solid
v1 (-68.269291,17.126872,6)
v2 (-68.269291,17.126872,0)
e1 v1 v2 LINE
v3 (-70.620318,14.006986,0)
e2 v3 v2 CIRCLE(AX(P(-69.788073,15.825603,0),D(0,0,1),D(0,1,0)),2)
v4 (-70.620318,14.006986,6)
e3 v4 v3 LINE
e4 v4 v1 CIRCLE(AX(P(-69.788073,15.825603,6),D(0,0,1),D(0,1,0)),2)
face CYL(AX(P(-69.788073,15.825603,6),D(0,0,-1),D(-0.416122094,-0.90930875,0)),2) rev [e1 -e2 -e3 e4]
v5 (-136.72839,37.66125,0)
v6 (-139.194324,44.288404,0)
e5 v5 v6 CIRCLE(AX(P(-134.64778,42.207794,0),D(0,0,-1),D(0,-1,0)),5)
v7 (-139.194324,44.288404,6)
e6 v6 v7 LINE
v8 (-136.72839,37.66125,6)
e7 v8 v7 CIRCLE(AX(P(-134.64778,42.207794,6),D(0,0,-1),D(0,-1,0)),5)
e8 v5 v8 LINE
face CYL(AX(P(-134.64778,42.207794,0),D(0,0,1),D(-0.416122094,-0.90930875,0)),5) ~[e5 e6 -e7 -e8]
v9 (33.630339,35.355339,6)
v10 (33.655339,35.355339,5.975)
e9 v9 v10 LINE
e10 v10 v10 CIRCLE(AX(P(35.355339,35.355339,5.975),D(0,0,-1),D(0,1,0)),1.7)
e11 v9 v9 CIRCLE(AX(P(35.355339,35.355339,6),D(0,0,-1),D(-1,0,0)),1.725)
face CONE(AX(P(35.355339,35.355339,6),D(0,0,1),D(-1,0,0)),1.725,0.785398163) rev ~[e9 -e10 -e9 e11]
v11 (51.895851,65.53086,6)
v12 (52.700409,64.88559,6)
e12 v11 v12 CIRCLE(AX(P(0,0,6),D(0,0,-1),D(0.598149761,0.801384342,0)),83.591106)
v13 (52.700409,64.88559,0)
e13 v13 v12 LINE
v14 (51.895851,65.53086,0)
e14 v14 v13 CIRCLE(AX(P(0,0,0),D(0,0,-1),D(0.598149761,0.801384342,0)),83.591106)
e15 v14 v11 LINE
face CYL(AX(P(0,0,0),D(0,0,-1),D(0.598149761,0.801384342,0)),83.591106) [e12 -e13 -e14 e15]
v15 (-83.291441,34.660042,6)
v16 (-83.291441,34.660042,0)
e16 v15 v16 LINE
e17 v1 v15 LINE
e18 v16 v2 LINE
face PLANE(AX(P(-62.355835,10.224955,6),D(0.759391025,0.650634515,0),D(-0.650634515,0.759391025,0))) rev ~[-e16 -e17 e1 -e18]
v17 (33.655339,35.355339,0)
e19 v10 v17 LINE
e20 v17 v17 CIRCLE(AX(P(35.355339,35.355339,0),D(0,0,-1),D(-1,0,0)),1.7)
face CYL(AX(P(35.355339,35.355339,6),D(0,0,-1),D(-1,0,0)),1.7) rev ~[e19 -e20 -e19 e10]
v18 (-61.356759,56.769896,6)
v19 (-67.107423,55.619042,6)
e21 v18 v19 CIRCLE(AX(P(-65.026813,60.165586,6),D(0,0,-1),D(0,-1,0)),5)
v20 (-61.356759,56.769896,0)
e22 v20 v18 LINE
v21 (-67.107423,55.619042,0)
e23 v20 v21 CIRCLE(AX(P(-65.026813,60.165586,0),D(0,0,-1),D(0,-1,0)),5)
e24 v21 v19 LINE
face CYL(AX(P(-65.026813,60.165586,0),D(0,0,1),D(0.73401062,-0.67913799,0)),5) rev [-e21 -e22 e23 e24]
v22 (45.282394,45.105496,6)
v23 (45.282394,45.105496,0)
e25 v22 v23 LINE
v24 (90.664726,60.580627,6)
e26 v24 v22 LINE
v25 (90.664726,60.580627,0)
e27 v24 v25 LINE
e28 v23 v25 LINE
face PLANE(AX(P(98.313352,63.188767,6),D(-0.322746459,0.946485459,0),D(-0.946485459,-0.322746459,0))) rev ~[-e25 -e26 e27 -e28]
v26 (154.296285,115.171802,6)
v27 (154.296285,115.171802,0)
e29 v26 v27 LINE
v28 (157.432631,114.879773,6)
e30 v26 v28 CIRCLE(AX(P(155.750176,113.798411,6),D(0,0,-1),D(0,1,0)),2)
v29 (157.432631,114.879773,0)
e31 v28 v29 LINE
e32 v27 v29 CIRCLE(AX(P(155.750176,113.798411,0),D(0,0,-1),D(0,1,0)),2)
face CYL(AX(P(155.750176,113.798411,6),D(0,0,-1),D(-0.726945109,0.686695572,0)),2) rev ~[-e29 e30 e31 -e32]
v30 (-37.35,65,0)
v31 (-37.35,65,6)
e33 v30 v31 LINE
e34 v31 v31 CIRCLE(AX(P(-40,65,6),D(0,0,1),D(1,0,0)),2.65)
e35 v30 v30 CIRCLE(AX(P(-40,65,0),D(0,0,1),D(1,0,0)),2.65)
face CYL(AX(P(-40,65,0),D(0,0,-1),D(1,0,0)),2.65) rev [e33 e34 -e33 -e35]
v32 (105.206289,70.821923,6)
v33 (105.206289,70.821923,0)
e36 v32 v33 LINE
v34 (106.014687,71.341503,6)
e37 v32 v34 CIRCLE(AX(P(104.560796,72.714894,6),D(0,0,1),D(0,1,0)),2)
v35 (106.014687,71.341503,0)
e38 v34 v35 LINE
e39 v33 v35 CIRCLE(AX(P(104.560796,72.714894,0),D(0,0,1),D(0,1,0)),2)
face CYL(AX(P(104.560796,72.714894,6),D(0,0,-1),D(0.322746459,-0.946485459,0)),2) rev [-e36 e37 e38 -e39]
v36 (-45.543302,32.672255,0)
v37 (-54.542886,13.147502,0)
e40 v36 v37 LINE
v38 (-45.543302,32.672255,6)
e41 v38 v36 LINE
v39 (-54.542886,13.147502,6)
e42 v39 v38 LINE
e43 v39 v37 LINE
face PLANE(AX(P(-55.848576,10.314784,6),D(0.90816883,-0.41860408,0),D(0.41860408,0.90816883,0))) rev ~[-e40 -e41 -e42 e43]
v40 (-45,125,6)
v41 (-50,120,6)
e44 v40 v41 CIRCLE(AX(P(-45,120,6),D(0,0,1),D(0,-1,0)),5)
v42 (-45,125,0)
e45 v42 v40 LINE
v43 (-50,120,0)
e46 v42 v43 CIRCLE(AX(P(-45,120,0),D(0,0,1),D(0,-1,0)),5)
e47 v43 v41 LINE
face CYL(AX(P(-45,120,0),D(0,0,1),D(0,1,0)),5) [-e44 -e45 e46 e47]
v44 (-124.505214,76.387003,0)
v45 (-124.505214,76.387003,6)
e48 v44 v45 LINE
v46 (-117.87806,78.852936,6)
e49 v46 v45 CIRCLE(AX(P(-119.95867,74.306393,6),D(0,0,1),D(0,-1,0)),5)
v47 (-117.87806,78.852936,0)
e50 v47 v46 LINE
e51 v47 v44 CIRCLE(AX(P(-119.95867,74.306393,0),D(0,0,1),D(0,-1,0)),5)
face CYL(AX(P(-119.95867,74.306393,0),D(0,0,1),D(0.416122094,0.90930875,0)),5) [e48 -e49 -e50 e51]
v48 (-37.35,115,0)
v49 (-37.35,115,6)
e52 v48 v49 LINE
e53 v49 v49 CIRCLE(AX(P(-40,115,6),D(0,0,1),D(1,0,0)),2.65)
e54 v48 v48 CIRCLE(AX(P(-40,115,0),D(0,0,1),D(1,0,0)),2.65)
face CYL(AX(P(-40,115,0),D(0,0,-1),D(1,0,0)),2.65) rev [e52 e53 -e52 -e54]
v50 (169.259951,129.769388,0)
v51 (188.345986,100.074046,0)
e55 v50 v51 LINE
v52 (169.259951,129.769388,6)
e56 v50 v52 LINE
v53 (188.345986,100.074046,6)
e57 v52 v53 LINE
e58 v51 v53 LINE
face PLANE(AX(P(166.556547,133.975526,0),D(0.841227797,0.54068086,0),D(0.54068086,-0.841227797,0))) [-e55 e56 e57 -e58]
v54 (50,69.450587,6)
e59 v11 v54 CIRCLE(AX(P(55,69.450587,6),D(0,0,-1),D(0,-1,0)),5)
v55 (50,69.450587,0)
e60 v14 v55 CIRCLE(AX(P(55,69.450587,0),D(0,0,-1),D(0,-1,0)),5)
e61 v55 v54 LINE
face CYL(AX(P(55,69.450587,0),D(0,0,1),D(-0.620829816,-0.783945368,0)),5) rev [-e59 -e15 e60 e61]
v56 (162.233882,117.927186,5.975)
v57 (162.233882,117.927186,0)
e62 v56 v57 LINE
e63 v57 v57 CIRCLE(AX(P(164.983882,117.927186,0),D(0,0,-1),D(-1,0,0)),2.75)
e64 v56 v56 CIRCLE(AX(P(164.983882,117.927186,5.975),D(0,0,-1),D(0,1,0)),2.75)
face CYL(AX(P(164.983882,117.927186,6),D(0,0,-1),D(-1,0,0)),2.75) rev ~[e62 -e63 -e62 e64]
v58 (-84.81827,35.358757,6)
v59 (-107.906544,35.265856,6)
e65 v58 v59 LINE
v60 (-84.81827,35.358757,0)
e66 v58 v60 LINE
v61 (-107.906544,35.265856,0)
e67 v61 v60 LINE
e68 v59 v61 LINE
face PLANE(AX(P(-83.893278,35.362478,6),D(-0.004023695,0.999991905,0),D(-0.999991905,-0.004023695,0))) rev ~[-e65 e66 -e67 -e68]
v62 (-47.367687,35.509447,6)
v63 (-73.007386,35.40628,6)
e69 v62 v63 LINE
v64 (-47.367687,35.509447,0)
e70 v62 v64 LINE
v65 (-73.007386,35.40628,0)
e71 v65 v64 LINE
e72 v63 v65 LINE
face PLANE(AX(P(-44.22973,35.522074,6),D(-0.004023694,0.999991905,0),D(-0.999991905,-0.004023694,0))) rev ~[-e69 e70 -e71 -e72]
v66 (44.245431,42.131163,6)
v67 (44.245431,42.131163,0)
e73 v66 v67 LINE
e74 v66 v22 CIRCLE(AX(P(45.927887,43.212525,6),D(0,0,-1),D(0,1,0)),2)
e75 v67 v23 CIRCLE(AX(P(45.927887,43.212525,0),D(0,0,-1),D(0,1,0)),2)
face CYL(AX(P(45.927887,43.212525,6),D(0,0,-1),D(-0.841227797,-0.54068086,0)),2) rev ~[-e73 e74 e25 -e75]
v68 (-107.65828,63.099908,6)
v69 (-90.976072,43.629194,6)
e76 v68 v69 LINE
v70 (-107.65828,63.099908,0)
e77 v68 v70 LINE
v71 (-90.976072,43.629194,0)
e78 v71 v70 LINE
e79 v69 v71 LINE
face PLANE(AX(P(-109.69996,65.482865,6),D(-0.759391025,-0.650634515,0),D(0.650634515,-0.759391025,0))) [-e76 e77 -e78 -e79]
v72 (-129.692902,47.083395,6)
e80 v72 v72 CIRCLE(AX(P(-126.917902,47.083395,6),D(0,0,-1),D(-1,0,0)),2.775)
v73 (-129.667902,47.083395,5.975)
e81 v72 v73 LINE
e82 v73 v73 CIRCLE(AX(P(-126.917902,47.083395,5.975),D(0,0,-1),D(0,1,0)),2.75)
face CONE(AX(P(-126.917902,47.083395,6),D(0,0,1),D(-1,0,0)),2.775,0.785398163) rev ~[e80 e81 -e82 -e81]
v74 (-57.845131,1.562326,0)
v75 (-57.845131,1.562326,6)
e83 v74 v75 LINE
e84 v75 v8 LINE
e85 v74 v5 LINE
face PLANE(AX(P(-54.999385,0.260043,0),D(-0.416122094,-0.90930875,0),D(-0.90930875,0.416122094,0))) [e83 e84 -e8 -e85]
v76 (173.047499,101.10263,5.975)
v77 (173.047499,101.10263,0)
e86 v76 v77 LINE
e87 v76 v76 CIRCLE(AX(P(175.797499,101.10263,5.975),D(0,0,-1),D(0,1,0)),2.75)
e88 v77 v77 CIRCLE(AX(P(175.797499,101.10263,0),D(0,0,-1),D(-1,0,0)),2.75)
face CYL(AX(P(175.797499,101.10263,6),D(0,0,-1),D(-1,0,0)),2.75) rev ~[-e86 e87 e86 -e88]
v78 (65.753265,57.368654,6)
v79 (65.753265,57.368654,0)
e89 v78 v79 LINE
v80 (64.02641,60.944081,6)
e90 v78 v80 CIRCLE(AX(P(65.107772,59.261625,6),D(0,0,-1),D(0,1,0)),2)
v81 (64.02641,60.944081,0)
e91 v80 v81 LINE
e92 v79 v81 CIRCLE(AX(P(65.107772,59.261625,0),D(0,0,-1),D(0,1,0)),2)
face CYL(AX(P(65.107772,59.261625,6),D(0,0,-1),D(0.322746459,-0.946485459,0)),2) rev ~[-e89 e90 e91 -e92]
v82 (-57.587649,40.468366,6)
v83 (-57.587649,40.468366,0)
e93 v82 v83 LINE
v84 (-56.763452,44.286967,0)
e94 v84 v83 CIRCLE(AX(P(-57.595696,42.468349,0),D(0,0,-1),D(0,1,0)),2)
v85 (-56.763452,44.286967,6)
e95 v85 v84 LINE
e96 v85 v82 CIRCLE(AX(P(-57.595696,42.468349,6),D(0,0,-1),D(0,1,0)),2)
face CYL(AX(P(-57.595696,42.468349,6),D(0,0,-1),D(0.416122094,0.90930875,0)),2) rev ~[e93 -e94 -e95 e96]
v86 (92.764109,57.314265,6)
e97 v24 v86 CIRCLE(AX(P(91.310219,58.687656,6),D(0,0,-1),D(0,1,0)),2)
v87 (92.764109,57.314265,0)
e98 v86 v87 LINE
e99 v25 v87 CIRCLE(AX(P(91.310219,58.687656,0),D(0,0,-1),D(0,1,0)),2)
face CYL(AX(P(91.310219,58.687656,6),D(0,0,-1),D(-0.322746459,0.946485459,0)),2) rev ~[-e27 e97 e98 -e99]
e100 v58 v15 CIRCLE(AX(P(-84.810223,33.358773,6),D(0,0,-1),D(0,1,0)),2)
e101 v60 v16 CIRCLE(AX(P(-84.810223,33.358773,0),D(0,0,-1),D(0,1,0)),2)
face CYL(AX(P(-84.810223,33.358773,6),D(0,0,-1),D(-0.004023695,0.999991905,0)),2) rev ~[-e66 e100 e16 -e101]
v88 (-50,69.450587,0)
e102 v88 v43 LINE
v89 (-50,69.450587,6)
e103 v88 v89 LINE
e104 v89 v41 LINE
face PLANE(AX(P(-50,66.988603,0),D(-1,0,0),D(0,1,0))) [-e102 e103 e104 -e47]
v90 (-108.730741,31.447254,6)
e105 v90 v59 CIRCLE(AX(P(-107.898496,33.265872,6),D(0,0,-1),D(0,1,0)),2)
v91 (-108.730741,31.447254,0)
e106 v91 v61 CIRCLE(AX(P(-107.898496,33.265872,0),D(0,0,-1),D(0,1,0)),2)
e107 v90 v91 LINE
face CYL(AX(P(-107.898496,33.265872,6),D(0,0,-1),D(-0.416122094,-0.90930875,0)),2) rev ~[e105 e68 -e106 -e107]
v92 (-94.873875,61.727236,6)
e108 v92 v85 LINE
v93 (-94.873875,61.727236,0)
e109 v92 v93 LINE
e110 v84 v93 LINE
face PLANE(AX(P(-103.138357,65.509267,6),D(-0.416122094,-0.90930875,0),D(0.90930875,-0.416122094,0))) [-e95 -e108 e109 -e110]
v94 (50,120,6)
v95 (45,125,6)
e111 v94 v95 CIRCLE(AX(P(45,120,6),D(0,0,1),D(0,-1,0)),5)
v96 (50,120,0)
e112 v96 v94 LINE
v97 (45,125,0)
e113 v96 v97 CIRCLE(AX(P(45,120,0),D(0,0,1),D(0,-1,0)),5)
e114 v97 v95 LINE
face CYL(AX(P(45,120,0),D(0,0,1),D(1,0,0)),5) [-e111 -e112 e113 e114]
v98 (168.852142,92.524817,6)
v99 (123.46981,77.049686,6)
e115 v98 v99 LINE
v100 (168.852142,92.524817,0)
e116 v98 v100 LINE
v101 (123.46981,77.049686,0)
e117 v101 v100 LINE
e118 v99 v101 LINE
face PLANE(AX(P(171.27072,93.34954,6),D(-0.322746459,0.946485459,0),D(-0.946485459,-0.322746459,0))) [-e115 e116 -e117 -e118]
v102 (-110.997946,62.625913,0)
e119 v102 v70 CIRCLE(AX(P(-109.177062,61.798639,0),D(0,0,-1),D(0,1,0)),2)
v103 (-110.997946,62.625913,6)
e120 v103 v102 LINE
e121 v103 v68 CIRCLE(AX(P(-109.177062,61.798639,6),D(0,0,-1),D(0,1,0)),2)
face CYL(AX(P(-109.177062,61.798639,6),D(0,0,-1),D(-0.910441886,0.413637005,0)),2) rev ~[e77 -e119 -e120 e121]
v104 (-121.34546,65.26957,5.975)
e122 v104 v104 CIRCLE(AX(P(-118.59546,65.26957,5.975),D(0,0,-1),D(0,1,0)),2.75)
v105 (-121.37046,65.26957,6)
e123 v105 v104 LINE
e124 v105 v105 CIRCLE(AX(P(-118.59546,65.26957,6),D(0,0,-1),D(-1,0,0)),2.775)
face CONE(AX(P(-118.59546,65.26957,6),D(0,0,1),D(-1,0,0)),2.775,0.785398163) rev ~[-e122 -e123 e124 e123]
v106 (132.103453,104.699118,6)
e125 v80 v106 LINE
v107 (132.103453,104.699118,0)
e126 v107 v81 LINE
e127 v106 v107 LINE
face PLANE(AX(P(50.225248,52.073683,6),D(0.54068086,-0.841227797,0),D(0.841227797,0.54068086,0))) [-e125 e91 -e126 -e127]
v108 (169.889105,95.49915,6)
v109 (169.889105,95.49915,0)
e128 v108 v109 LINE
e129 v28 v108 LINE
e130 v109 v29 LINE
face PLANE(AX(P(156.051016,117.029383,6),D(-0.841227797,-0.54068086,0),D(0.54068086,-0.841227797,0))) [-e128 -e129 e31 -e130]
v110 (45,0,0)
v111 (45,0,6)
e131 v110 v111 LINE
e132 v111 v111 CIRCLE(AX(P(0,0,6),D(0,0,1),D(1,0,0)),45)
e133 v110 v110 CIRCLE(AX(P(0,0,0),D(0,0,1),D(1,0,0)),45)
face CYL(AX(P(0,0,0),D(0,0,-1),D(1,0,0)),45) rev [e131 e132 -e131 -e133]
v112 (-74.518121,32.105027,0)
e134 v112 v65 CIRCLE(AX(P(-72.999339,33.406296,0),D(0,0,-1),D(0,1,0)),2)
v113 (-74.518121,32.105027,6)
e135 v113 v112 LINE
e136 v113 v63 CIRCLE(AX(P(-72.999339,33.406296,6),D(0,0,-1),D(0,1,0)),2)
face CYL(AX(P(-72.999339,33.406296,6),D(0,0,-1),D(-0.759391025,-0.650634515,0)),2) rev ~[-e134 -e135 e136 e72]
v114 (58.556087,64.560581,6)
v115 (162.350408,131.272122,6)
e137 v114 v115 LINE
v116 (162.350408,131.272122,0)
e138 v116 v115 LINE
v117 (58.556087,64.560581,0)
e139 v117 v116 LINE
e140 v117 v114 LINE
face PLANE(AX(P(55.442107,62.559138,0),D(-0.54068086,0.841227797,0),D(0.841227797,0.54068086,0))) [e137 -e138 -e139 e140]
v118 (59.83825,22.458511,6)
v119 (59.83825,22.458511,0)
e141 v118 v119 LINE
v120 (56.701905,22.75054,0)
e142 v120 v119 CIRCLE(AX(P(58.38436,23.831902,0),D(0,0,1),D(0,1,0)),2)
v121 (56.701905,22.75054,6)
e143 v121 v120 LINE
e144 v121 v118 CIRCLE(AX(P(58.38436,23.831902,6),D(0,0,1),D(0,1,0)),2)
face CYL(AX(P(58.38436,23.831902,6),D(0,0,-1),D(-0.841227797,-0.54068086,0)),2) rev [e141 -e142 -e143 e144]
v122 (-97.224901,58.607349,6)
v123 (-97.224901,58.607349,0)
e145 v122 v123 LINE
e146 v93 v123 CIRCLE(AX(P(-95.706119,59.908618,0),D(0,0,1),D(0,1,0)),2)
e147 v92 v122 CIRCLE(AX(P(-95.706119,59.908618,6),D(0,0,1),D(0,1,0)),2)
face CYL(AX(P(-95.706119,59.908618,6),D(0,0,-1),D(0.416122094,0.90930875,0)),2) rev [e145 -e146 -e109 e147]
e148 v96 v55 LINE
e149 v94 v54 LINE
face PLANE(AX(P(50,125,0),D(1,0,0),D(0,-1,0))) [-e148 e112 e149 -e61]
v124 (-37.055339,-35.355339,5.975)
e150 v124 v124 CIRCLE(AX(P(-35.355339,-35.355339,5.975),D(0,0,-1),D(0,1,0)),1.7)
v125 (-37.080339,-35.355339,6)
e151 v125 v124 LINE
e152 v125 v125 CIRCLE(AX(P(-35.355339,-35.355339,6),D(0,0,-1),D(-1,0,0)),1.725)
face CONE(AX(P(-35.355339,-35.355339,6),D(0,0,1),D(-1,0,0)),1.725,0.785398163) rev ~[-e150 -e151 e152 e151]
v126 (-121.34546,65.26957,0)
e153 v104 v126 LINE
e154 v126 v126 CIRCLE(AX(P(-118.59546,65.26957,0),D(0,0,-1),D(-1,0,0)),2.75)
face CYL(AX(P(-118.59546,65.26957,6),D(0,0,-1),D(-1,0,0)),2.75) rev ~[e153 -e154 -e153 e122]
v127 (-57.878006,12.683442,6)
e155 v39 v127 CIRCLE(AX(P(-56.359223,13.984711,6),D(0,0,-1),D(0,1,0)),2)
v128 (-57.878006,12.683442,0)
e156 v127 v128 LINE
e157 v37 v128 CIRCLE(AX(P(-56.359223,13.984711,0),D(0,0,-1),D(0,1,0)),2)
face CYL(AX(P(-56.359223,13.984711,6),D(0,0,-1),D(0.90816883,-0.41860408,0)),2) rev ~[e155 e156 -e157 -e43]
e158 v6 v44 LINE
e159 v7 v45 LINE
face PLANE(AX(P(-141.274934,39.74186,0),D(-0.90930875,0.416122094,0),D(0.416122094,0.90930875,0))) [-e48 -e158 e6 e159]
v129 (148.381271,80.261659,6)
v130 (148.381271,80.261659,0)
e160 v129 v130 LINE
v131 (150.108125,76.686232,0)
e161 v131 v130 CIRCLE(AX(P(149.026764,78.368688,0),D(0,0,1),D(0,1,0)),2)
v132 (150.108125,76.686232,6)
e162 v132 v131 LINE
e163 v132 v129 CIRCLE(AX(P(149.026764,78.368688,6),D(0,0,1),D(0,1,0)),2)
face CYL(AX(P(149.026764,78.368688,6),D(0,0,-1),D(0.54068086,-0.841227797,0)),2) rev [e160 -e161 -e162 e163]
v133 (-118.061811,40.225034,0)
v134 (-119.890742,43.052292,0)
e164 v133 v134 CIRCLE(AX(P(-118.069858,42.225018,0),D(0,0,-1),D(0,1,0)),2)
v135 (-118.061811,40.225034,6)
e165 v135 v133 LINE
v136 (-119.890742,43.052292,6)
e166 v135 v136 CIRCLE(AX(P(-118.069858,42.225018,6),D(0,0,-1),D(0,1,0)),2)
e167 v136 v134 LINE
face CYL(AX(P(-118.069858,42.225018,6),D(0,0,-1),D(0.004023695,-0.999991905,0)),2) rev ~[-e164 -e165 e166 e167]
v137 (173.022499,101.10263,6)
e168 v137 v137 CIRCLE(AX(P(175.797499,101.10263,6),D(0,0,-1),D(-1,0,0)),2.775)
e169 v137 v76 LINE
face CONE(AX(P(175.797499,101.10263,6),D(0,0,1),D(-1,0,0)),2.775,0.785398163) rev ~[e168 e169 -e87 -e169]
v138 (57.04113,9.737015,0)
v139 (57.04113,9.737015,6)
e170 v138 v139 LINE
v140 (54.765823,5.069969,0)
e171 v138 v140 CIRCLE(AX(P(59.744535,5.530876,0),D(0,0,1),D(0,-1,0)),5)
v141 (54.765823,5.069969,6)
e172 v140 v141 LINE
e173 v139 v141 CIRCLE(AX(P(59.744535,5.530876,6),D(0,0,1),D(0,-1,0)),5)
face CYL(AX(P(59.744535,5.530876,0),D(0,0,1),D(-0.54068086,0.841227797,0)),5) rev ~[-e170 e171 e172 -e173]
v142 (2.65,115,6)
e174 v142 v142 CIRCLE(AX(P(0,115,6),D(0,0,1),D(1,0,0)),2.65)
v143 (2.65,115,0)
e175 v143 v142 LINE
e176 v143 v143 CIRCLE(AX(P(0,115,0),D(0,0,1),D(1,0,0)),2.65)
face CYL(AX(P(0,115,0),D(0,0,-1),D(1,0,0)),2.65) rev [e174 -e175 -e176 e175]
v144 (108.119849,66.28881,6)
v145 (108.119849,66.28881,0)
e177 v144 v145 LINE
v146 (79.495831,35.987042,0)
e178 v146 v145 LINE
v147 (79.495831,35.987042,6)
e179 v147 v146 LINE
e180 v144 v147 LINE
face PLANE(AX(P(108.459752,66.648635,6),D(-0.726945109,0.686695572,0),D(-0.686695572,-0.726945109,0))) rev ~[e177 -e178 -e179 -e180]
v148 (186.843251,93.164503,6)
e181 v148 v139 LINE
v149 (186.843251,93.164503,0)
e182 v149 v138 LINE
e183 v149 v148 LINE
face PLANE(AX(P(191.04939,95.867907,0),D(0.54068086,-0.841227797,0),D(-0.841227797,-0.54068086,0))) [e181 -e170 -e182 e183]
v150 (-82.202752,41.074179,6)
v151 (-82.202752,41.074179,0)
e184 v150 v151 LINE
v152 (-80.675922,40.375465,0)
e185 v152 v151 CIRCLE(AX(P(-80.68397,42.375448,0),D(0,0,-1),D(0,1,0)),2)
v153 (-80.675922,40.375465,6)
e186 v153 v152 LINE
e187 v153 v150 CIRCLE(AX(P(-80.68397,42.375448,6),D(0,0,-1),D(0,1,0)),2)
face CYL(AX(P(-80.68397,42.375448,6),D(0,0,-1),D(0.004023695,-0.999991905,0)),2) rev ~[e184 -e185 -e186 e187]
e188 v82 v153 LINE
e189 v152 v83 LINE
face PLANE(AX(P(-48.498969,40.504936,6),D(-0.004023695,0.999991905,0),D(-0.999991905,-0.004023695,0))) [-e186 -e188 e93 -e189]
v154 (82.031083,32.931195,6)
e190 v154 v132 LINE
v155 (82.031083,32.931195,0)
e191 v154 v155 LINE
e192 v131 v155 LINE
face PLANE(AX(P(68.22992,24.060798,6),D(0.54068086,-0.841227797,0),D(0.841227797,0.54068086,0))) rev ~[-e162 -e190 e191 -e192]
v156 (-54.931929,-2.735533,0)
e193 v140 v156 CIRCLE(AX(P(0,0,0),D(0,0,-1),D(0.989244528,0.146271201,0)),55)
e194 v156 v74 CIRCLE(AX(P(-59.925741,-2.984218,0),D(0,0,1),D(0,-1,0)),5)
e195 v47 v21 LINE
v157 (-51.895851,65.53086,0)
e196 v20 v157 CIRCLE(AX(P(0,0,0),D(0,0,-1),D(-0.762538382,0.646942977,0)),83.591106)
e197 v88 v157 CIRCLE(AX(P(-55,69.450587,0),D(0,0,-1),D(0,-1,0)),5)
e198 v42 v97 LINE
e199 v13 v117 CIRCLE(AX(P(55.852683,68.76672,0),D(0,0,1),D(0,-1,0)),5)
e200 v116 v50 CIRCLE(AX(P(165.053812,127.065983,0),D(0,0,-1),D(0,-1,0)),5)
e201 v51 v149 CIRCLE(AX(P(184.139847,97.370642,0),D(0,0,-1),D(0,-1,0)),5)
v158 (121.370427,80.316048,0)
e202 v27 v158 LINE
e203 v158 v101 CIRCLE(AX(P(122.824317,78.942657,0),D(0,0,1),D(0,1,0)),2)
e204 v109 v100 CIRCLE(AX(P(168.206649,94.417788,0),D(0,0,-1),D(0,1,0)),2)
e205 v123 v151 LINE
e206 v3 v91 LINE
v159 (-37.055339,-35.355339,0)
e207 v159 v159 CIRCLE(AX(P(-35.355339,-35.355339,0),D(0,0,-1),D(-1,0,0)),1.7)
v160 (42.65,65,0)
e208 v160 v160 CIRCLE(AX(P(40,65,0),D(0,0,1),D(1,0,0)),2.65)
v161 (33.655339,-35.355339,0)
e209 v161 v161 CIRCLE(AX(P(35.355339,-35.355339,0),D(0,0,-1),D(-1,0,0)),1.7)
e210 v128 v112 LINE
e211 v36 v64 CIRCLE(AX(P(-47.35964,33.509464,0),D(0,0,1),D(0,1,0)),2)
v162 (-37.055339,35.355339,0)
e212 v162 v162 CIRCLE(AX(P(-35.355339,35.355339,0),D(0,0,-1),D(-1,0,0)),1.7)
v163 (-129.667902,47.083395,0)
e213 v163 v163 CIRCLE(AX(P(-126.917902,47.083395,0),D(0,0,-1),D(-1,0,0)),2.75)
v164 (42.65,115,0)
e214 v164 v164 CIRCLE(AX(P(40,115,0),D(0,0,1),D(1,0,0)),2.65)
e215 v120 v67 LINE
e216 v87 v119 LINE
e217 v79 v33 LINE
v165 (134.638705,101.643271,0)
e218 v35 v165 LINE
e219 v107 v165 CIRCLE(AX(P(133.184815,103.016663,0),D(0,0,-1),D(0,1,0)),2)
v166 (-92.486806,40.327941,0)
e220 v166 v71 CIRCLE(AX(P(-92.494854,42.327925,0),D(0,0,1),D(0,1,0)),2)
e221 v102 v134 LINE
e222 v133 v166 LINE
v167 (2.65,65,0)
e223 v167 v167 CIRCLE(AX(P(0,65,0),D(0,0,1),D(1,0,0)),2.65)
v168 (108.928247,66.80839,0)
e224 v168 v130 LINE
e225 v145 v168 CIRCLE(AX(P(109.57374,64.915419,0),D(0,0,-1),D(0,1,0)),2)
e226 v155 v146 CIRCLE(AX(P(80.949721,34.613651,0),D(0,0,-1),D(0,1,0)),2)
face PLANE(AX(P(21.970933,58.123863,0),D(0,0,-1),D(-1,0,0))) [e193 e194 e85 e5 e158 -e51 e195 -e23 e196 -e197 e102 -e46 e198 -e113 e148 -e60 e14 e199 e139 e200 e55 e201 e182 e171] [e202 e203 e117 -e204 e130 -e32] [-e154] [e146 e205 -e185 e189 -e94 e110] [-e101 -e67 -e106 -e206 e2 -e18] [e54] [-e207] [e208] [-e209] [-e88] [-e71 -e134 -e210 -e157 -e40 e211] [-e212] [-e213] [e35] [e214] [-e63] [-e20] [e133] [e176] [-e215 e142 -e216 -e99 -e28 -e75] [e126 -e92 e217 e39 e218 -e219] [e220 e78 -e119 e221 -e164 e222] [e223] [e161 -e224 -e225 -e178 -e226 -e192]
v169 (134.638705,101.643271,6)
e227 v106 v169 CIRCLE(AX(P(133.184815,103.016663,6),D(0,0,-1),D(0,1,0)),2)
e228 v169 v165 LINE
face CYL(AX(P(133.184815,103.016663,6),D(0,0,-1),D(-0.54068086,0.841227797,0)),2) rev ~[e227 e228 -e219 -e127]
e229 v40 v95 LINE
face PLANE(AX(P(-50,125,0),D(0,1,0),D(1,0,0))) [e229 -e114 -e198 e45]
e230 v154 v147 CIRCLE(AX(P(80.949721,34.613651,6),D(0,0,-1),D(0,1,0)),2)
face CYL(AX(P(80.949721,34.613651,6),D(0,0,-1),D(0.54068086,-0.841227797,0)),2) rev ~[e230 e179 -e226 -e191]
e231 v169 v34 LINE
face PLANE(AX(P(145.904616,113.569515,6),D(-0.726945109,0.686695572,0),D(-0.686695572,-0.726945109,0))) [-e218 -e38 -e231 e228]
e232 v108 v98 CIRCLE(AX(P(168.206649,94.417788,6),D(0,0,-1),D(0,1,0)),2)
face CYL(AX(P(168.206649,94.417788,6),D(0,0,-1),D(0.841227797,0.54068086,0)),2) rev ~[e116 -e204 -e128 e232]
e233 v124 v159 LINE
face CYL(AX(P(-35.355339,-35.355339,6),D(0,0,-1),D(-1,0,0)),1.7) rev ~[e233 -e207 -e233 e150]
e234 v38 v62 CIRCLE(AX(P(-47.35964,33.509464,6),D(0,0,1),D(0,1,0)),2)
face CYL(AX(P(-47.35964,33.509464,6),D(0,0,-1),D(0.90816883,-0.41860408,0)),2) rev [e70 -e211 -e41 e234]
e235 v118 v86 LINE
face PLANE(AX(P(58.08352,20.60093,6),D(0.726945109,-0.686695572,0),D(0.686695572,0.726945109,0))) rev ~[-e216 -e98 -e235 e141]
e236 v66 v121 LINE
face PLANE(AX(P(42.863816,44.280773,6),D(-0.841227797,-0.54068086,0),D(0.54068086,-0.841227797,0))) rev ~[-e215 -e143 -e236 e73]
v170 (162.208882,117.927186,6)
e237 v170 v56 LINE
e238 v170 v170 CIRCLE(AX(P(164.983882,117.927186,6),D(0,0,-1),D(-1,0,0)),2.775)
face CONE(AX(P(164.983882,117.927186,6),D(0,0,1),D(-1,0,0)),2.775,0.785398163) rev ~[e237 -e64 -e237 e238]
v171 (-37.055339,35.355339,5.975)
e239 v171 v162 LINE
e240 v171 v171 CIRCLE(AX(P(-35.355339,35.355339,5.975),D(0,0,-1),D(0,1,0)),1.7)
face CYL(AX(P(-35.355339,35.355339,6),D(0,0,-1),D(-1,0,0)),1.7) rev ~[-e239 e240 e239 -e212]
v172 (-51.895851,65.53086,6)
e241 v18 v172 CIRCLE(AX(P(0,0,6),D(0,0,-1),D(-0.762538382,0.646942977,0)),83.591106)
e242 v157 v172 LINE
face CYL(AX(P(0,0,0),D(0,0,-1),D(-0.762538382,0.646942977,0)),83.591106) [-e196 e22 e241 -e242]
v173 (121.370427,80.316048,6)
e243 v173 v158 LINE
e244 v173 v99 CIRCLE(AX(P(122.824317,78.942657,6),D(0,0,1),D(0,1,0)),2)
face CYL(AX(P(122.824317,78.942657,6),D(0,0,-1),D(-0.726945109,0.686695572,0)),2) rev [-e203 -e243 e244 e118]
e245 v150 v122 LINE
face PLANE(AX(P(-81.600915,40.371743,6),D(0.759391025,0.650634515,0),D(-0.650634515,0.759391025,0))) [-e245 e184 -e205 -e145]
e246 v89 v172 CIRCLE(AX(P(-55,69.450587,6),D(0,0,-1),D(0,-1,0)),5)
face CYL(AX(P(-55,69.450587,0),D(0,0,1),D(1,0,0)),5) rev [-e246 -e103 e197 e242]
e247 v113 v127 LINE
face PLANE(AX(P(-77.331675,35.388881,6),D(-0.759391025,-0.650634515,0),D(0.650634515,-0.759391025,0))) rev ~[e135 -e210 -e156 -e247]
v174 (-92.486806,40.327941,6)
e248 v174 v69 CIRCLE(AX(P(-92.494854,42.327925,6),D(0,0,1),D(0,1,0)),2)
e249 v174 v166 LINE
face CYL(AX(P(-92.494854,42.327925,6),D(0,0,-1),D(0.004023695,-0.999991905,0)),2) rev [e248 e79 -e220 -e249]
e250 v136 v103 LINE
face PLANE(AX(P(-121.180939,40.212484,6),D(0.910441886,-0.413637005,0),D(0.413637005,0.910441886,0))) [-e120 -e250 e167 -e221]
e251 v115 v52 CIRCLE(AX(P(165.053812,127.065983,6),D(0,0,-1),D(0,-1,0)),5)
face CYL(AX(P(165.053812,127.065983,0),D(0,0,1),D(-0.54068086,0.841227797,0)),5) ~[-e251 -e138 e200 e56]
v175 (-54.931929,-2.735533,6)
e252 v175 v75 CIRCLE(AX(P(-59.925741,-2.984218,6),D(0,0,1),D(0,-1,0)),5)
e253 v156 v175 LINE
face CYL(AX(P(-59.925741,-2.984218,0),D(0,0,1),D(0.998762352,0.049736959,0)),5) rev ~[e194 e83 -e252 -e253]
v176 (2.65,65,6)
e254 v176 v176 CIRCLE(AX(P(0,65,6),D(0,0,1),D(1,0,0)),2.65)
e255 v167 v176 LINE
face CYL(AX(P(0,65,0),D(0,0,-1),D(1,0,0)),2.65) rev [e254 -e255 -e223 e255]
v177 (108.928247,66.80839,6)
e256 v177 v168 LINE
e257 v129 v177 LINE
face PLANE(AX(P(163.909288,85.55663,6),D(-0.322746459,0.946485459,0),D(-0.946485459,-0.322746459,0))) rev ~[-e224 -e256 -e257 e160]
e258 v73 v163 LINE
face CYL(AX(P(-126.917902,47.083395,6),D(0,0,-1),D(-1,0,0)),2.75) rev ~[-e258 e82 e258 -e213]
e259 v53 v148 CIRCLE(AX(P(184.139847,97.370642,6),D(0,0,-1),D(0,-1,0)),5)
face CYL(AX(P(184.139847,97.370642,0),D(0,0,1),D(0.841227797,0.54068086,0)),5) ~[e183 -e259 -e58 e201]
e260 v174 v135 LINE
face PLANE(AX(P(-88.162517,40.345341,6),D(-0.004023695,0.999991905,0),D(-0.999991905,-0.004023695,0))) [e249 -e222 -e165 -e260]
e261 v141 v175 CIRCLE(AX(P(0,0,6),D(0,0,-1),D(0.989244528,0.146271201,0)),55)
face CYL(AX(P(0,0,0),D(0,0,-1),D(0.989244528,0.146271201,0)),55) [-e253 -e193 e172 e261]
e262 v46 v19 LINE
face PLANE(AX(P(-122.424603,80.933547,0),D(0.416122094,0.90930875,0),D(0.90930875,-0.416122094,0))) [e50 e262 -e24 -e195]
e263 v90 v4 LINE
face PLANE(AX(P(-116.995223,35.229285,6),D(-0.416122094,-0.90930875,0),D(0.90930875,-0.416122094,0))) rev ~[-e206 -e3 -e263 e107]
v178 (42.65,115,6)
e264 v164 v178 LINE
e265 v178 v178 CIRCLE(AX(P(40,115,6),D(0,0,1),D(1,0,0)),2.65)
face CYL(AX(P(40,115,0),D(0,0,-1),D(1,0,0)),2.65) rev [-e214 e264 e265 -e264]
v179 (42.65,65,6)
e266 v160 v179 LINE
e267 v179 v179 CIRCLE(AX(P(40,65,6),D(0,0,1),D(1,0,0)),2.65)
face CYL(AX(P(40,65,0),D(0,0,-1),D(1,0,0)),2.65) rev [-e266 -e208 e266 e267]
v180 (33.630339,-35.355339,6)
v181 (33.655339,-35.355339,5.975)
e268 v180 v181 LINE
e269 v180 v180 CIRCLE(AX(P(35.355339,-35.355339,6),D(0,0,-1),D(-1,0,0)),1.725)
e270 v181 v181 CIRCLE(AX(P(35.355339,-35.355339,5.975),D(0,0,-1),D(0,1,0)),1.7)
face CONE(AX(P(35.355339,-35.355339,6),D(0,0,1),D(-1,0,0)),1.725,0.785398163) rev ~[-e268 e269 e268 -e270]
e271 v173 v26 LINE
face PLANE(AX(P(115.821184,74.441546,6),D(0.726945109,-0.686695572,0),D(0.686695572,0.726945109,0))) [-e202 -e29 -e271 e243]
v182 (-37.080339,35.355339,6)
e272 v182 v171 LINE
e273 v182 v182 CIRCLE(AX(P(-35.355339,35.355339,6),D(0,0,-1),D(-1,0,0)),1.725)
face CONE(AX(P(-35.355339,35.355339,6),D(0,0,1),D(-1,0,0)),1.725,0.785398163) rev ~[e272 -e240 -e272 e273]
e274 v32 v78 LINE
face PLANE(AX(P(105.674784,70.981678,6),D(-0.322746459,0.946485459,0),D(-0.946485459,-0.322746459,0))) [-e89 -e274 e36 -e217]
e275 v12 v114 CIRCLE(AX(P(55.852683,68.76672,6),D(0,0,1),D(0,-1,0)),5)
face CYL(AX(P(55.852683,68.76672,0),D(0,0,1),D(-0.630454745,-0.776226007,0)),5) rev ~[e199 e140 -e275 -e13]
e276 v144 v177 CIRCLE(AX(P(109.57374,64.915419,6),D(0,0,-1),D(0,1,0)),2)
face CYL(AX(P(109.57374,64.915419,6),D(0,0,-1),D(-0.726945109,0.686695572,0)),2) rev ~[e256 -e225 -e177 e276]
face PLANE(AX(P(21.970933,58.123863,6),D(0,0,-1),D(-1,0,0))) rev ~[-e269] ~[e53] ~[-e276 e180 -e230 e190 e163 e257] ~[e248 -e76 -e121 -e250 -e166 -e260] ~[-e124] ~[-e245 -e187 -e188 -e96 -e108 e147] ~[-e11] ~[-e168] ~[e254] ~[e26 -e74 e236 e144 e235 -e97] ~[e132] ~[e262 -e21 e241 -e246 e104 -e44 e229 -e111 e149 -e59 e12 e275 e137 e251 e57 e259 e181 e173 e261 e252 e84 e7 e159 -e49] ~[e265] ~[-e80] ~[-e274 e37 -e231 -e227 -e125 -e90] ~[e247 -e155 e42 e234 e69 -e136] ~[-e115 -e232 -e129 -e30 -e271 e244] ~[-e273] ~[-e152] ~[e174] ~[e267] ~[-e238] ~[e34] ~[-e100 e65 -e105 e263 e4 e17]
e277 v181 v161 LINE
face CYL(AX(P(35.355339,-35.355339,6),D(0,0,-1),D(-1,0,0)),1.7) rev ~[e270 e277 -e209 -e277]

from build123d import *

# Parameters (mm, degrees)
SKETCH8_R                      = 2.65
SKETCH8_R_2                    = 45
BOSS_EXTRUDE12_DEPTH           = 6
M5_CLEARANCE_HOLE3_D           = 5.5
M5_CLEARANCE_HOLE3_CSINK_D     = 5.55
M5_CLEARANCE_HOLE3_CSINK_ANGLE = 90
M3_CLEARANCE_HOLE2_D           = 3.4
M3_CLEARANCE_HOLE2_CSINK_D     = 3.45
M3_CLEARANCE_HOLE2_CSINK_ANGLE = 90
CUT_EXTRUDE12_DEPTH            = 234.420888215
FILLET16_R                     = 2
FILLET17_R                     = 2
FILLET13_R                     = 5


with BuildPart() as part:
    # Sketch8 → Boss-Extrude12 (new body)
    with BuildSketch(Plane.XY):
        with BuildLine():
            ThreePointArc((50, 66.988603427), (52.767551736, 64.83099932), (55.442106877, 62.559138214))
            Line((55.442106877, 62.559138214), (166.556546856, 133.975526494))
            Line((166.556546856, 133.975526494), (191.049389833, 95.86790727))
            Line((191.049389833, 95.86790727), (54.408449025, 8.044916078))
            ThreePointArc((54.408449025, 8.044916078), (3.903634668, -54.86129452), (-54.999385248, 0.260042998))
            Line((-54.999385248, 0.260042998), (-141.274934171, 39.741860486))
            Line((-141.274934171, 39.741860486), (-122.4246033, 80.933546856))
            Line((-122.4246033, 80.933546856), (-63.741426655, 54.07867895))
            ThreePointArc((-63.741426655, 54.07867895), (-57.235867879, 60.922314608), (-50, 66.988603427))
            Line((-50, 66.988603427), (-50, 125))
            Line((-50, 125), (50, 125))
            Line((50, 125), (50, 66.988603427))
        make_face()
        with Locations((-40, 65)):
            Circle(SKETCH8_R, mode=Mode.SUBTRACT)
        with Locations((0, 65)):
            Circle(SKETCH8_R, mode=Mode.SUBTRACT)
        with Locations((40, 65)):
            Circle(SKETCH8_R, mode=Mode.SUBTRACT)
        with Locations((0, 115)):
            Circle(SKETCH8_R, mode=Mode.SUBTRACT)
        with Locations((40, 115)):
            Circle(SKETCH8_R, mode=Mode.SUBTRACT)
        with Locations((-40, 115)):
            Circle(SKETCH8_R, mode=Mode.SUBTRACT)
        Circle(SKETCH8_R_2, mode=Mode.SUBTRACT)
    extrude(amount=BOSS_EXTRUDE12_DEPTH)

    # M5 Clearance Hole3 (through all)
    with Locations(Plane.XY.offset(6)):
        with Locations((-118.595460294, 65.269570227), (-126.91790218, 47.083395229), (164.983881766, 117.927186252), (175.797498975, 101.102630303)):
            CounterSinkHole(M5_CLEARANCE_HOLE3_D / 2, M5_CLEARANCE_HOLE3_CSINK_D / 2, counter_sink_angle=M5_CLEARANCE_HOLE3_CSINK_ANGLE)

    # M3 Clearance Hole2 (through all)
    with Locations(Plane.XY.offset(6)):
        with Locations((-35.355339059, 35.355339059), (35.355339059, 35.355339059), (35.355339059, -35.355339059), (-35.355339059, -35.355339059)):
            CounterSinkHole(M3_CLEARANCE_HOLE2_D / 2, M3_CLEARANCE_HOLE2_CSINK_D / 2, counter_sink_angle=M3_CLEARANCE_HOLE2_CSINK_ANGLE)

    # Sketch45 → Cut-Extrude12 (cut, through all)
    with BuildSketch(Plane.XY.offset(6)):
        Polygon((-116.995223223, 35.229285226), (-62.355834999, 10.224954562), (-83.893277645, 35.362478421), align=None)
        Polygon((-81.600914837, 40.371742739), (-103.138357483, 65.509266598), (-48.498969259, 40.504935934), align=None)
        Polygon((-55.848576336, 10.314784068), (-44.229729779, 35.522073712), (-77.331675357, 35.388880518), align=None)
        Polygon((-109.699959772, 65.482864501), (-88.162517126, 40.345340642), (-121.180939336, 40.212483522), align=None)
        Polygon((42.86381576, 44.280773431), (58.083519932, 20.600929819), (98.313351899, 63.188767486), align=None)
        Polygon((171.270720077, 93.349539589), (115.821183938, 74.441545533), (156.051015905, 117.0293832), align=None)
        Polygon((68.229920192, 24.060797821), (163.909288297, 85.556629544), (108.459752158, 66.648635488), align=None)
        Polygon((145.904615645, 113.569515198), (105.674783679, 70.981677531), (50.22524754, 52.073683476), align=None)
    extrude(amount=-CUT_EXTRUDE12_DEPTH, mode=Mode.SUBTRACT)

    # Fillet16
    fillet16_edges = [part.edges().sort_by_distance(p)[0] for p in [
        (-77.331675357, 35.388880518, 3),
        (-44.229729779, 35.522073712, 3),
        (-55.848576336, 10.314784068, 3),
        (-48.498969259, 40.504935934, 3),
        (-81.600914837, 40.371742739, 3),
        (-103.138357483, 65.509266598, 3),
        (-121.180939336, 40.212483522, 3),
        (-109.699959772, 65.482864501, 3),
        (-88.162517126, 40.345340642, 3),
        (-83.893277645, 35.362478421, 3),
        (-62.355834999, 10.224954562, 3),
        (-116.995223223, 35.229285226, 3),
    ]]
    fillet(fillet16_edges, radius=FILLET16_R)

    # Fillet17
    fillet17_edges = [part.edges().sort_by_distance(p)[0] for p in [
        (156.051015905, 117.0293832, 3),
        (171.270720077, 93.349539589, 3),
        (115.821183938, 74.441545533, 3),
        (108.459752158, 66.648635488, 3),
        (163.909288297, 85.556629544, 3),
        (68.229920192, 24.060797821, 3),
        (98.313351899, 63.188767486, 3),
        (58.083519932, 20.600929819, 3),
        (42.86381576, 44.280773431, 3),
        (50.22524754, 52.073683476, 3),
        (145.904615645, 113.569515198, 3),
        (105.674783679, 70.981677531, 3),
    ]]
    fillet(fillet17_edges, radius=FILLET17_R)

    # Fillet13
    fillet13_edges = [part.edges().sort_by_distance(p)[0] for p in [
        (55.442106877, 62.559138214, 3),
        (166.556546856, 133.975526494, 3),
        (191.049389833, 95.86790727, 3),
        (54.408449025, 8.044916078, 3),
        (-54.999385248, 0.260042998, 3),
        (-141.274934171, 39.741860486, 3),
        (-122.4246033, 80.933546856, 3),
        (-63.741426655, 54.07867895, 3),
        (-50, 66.988603427, 3),
        (-50, 125, 3),
        (50, 125, 3),
        (50, 66.988603427, 3),
    ]]
    fillet(fillet13_edges, radius=FILLET13_R)


solid = part.part
